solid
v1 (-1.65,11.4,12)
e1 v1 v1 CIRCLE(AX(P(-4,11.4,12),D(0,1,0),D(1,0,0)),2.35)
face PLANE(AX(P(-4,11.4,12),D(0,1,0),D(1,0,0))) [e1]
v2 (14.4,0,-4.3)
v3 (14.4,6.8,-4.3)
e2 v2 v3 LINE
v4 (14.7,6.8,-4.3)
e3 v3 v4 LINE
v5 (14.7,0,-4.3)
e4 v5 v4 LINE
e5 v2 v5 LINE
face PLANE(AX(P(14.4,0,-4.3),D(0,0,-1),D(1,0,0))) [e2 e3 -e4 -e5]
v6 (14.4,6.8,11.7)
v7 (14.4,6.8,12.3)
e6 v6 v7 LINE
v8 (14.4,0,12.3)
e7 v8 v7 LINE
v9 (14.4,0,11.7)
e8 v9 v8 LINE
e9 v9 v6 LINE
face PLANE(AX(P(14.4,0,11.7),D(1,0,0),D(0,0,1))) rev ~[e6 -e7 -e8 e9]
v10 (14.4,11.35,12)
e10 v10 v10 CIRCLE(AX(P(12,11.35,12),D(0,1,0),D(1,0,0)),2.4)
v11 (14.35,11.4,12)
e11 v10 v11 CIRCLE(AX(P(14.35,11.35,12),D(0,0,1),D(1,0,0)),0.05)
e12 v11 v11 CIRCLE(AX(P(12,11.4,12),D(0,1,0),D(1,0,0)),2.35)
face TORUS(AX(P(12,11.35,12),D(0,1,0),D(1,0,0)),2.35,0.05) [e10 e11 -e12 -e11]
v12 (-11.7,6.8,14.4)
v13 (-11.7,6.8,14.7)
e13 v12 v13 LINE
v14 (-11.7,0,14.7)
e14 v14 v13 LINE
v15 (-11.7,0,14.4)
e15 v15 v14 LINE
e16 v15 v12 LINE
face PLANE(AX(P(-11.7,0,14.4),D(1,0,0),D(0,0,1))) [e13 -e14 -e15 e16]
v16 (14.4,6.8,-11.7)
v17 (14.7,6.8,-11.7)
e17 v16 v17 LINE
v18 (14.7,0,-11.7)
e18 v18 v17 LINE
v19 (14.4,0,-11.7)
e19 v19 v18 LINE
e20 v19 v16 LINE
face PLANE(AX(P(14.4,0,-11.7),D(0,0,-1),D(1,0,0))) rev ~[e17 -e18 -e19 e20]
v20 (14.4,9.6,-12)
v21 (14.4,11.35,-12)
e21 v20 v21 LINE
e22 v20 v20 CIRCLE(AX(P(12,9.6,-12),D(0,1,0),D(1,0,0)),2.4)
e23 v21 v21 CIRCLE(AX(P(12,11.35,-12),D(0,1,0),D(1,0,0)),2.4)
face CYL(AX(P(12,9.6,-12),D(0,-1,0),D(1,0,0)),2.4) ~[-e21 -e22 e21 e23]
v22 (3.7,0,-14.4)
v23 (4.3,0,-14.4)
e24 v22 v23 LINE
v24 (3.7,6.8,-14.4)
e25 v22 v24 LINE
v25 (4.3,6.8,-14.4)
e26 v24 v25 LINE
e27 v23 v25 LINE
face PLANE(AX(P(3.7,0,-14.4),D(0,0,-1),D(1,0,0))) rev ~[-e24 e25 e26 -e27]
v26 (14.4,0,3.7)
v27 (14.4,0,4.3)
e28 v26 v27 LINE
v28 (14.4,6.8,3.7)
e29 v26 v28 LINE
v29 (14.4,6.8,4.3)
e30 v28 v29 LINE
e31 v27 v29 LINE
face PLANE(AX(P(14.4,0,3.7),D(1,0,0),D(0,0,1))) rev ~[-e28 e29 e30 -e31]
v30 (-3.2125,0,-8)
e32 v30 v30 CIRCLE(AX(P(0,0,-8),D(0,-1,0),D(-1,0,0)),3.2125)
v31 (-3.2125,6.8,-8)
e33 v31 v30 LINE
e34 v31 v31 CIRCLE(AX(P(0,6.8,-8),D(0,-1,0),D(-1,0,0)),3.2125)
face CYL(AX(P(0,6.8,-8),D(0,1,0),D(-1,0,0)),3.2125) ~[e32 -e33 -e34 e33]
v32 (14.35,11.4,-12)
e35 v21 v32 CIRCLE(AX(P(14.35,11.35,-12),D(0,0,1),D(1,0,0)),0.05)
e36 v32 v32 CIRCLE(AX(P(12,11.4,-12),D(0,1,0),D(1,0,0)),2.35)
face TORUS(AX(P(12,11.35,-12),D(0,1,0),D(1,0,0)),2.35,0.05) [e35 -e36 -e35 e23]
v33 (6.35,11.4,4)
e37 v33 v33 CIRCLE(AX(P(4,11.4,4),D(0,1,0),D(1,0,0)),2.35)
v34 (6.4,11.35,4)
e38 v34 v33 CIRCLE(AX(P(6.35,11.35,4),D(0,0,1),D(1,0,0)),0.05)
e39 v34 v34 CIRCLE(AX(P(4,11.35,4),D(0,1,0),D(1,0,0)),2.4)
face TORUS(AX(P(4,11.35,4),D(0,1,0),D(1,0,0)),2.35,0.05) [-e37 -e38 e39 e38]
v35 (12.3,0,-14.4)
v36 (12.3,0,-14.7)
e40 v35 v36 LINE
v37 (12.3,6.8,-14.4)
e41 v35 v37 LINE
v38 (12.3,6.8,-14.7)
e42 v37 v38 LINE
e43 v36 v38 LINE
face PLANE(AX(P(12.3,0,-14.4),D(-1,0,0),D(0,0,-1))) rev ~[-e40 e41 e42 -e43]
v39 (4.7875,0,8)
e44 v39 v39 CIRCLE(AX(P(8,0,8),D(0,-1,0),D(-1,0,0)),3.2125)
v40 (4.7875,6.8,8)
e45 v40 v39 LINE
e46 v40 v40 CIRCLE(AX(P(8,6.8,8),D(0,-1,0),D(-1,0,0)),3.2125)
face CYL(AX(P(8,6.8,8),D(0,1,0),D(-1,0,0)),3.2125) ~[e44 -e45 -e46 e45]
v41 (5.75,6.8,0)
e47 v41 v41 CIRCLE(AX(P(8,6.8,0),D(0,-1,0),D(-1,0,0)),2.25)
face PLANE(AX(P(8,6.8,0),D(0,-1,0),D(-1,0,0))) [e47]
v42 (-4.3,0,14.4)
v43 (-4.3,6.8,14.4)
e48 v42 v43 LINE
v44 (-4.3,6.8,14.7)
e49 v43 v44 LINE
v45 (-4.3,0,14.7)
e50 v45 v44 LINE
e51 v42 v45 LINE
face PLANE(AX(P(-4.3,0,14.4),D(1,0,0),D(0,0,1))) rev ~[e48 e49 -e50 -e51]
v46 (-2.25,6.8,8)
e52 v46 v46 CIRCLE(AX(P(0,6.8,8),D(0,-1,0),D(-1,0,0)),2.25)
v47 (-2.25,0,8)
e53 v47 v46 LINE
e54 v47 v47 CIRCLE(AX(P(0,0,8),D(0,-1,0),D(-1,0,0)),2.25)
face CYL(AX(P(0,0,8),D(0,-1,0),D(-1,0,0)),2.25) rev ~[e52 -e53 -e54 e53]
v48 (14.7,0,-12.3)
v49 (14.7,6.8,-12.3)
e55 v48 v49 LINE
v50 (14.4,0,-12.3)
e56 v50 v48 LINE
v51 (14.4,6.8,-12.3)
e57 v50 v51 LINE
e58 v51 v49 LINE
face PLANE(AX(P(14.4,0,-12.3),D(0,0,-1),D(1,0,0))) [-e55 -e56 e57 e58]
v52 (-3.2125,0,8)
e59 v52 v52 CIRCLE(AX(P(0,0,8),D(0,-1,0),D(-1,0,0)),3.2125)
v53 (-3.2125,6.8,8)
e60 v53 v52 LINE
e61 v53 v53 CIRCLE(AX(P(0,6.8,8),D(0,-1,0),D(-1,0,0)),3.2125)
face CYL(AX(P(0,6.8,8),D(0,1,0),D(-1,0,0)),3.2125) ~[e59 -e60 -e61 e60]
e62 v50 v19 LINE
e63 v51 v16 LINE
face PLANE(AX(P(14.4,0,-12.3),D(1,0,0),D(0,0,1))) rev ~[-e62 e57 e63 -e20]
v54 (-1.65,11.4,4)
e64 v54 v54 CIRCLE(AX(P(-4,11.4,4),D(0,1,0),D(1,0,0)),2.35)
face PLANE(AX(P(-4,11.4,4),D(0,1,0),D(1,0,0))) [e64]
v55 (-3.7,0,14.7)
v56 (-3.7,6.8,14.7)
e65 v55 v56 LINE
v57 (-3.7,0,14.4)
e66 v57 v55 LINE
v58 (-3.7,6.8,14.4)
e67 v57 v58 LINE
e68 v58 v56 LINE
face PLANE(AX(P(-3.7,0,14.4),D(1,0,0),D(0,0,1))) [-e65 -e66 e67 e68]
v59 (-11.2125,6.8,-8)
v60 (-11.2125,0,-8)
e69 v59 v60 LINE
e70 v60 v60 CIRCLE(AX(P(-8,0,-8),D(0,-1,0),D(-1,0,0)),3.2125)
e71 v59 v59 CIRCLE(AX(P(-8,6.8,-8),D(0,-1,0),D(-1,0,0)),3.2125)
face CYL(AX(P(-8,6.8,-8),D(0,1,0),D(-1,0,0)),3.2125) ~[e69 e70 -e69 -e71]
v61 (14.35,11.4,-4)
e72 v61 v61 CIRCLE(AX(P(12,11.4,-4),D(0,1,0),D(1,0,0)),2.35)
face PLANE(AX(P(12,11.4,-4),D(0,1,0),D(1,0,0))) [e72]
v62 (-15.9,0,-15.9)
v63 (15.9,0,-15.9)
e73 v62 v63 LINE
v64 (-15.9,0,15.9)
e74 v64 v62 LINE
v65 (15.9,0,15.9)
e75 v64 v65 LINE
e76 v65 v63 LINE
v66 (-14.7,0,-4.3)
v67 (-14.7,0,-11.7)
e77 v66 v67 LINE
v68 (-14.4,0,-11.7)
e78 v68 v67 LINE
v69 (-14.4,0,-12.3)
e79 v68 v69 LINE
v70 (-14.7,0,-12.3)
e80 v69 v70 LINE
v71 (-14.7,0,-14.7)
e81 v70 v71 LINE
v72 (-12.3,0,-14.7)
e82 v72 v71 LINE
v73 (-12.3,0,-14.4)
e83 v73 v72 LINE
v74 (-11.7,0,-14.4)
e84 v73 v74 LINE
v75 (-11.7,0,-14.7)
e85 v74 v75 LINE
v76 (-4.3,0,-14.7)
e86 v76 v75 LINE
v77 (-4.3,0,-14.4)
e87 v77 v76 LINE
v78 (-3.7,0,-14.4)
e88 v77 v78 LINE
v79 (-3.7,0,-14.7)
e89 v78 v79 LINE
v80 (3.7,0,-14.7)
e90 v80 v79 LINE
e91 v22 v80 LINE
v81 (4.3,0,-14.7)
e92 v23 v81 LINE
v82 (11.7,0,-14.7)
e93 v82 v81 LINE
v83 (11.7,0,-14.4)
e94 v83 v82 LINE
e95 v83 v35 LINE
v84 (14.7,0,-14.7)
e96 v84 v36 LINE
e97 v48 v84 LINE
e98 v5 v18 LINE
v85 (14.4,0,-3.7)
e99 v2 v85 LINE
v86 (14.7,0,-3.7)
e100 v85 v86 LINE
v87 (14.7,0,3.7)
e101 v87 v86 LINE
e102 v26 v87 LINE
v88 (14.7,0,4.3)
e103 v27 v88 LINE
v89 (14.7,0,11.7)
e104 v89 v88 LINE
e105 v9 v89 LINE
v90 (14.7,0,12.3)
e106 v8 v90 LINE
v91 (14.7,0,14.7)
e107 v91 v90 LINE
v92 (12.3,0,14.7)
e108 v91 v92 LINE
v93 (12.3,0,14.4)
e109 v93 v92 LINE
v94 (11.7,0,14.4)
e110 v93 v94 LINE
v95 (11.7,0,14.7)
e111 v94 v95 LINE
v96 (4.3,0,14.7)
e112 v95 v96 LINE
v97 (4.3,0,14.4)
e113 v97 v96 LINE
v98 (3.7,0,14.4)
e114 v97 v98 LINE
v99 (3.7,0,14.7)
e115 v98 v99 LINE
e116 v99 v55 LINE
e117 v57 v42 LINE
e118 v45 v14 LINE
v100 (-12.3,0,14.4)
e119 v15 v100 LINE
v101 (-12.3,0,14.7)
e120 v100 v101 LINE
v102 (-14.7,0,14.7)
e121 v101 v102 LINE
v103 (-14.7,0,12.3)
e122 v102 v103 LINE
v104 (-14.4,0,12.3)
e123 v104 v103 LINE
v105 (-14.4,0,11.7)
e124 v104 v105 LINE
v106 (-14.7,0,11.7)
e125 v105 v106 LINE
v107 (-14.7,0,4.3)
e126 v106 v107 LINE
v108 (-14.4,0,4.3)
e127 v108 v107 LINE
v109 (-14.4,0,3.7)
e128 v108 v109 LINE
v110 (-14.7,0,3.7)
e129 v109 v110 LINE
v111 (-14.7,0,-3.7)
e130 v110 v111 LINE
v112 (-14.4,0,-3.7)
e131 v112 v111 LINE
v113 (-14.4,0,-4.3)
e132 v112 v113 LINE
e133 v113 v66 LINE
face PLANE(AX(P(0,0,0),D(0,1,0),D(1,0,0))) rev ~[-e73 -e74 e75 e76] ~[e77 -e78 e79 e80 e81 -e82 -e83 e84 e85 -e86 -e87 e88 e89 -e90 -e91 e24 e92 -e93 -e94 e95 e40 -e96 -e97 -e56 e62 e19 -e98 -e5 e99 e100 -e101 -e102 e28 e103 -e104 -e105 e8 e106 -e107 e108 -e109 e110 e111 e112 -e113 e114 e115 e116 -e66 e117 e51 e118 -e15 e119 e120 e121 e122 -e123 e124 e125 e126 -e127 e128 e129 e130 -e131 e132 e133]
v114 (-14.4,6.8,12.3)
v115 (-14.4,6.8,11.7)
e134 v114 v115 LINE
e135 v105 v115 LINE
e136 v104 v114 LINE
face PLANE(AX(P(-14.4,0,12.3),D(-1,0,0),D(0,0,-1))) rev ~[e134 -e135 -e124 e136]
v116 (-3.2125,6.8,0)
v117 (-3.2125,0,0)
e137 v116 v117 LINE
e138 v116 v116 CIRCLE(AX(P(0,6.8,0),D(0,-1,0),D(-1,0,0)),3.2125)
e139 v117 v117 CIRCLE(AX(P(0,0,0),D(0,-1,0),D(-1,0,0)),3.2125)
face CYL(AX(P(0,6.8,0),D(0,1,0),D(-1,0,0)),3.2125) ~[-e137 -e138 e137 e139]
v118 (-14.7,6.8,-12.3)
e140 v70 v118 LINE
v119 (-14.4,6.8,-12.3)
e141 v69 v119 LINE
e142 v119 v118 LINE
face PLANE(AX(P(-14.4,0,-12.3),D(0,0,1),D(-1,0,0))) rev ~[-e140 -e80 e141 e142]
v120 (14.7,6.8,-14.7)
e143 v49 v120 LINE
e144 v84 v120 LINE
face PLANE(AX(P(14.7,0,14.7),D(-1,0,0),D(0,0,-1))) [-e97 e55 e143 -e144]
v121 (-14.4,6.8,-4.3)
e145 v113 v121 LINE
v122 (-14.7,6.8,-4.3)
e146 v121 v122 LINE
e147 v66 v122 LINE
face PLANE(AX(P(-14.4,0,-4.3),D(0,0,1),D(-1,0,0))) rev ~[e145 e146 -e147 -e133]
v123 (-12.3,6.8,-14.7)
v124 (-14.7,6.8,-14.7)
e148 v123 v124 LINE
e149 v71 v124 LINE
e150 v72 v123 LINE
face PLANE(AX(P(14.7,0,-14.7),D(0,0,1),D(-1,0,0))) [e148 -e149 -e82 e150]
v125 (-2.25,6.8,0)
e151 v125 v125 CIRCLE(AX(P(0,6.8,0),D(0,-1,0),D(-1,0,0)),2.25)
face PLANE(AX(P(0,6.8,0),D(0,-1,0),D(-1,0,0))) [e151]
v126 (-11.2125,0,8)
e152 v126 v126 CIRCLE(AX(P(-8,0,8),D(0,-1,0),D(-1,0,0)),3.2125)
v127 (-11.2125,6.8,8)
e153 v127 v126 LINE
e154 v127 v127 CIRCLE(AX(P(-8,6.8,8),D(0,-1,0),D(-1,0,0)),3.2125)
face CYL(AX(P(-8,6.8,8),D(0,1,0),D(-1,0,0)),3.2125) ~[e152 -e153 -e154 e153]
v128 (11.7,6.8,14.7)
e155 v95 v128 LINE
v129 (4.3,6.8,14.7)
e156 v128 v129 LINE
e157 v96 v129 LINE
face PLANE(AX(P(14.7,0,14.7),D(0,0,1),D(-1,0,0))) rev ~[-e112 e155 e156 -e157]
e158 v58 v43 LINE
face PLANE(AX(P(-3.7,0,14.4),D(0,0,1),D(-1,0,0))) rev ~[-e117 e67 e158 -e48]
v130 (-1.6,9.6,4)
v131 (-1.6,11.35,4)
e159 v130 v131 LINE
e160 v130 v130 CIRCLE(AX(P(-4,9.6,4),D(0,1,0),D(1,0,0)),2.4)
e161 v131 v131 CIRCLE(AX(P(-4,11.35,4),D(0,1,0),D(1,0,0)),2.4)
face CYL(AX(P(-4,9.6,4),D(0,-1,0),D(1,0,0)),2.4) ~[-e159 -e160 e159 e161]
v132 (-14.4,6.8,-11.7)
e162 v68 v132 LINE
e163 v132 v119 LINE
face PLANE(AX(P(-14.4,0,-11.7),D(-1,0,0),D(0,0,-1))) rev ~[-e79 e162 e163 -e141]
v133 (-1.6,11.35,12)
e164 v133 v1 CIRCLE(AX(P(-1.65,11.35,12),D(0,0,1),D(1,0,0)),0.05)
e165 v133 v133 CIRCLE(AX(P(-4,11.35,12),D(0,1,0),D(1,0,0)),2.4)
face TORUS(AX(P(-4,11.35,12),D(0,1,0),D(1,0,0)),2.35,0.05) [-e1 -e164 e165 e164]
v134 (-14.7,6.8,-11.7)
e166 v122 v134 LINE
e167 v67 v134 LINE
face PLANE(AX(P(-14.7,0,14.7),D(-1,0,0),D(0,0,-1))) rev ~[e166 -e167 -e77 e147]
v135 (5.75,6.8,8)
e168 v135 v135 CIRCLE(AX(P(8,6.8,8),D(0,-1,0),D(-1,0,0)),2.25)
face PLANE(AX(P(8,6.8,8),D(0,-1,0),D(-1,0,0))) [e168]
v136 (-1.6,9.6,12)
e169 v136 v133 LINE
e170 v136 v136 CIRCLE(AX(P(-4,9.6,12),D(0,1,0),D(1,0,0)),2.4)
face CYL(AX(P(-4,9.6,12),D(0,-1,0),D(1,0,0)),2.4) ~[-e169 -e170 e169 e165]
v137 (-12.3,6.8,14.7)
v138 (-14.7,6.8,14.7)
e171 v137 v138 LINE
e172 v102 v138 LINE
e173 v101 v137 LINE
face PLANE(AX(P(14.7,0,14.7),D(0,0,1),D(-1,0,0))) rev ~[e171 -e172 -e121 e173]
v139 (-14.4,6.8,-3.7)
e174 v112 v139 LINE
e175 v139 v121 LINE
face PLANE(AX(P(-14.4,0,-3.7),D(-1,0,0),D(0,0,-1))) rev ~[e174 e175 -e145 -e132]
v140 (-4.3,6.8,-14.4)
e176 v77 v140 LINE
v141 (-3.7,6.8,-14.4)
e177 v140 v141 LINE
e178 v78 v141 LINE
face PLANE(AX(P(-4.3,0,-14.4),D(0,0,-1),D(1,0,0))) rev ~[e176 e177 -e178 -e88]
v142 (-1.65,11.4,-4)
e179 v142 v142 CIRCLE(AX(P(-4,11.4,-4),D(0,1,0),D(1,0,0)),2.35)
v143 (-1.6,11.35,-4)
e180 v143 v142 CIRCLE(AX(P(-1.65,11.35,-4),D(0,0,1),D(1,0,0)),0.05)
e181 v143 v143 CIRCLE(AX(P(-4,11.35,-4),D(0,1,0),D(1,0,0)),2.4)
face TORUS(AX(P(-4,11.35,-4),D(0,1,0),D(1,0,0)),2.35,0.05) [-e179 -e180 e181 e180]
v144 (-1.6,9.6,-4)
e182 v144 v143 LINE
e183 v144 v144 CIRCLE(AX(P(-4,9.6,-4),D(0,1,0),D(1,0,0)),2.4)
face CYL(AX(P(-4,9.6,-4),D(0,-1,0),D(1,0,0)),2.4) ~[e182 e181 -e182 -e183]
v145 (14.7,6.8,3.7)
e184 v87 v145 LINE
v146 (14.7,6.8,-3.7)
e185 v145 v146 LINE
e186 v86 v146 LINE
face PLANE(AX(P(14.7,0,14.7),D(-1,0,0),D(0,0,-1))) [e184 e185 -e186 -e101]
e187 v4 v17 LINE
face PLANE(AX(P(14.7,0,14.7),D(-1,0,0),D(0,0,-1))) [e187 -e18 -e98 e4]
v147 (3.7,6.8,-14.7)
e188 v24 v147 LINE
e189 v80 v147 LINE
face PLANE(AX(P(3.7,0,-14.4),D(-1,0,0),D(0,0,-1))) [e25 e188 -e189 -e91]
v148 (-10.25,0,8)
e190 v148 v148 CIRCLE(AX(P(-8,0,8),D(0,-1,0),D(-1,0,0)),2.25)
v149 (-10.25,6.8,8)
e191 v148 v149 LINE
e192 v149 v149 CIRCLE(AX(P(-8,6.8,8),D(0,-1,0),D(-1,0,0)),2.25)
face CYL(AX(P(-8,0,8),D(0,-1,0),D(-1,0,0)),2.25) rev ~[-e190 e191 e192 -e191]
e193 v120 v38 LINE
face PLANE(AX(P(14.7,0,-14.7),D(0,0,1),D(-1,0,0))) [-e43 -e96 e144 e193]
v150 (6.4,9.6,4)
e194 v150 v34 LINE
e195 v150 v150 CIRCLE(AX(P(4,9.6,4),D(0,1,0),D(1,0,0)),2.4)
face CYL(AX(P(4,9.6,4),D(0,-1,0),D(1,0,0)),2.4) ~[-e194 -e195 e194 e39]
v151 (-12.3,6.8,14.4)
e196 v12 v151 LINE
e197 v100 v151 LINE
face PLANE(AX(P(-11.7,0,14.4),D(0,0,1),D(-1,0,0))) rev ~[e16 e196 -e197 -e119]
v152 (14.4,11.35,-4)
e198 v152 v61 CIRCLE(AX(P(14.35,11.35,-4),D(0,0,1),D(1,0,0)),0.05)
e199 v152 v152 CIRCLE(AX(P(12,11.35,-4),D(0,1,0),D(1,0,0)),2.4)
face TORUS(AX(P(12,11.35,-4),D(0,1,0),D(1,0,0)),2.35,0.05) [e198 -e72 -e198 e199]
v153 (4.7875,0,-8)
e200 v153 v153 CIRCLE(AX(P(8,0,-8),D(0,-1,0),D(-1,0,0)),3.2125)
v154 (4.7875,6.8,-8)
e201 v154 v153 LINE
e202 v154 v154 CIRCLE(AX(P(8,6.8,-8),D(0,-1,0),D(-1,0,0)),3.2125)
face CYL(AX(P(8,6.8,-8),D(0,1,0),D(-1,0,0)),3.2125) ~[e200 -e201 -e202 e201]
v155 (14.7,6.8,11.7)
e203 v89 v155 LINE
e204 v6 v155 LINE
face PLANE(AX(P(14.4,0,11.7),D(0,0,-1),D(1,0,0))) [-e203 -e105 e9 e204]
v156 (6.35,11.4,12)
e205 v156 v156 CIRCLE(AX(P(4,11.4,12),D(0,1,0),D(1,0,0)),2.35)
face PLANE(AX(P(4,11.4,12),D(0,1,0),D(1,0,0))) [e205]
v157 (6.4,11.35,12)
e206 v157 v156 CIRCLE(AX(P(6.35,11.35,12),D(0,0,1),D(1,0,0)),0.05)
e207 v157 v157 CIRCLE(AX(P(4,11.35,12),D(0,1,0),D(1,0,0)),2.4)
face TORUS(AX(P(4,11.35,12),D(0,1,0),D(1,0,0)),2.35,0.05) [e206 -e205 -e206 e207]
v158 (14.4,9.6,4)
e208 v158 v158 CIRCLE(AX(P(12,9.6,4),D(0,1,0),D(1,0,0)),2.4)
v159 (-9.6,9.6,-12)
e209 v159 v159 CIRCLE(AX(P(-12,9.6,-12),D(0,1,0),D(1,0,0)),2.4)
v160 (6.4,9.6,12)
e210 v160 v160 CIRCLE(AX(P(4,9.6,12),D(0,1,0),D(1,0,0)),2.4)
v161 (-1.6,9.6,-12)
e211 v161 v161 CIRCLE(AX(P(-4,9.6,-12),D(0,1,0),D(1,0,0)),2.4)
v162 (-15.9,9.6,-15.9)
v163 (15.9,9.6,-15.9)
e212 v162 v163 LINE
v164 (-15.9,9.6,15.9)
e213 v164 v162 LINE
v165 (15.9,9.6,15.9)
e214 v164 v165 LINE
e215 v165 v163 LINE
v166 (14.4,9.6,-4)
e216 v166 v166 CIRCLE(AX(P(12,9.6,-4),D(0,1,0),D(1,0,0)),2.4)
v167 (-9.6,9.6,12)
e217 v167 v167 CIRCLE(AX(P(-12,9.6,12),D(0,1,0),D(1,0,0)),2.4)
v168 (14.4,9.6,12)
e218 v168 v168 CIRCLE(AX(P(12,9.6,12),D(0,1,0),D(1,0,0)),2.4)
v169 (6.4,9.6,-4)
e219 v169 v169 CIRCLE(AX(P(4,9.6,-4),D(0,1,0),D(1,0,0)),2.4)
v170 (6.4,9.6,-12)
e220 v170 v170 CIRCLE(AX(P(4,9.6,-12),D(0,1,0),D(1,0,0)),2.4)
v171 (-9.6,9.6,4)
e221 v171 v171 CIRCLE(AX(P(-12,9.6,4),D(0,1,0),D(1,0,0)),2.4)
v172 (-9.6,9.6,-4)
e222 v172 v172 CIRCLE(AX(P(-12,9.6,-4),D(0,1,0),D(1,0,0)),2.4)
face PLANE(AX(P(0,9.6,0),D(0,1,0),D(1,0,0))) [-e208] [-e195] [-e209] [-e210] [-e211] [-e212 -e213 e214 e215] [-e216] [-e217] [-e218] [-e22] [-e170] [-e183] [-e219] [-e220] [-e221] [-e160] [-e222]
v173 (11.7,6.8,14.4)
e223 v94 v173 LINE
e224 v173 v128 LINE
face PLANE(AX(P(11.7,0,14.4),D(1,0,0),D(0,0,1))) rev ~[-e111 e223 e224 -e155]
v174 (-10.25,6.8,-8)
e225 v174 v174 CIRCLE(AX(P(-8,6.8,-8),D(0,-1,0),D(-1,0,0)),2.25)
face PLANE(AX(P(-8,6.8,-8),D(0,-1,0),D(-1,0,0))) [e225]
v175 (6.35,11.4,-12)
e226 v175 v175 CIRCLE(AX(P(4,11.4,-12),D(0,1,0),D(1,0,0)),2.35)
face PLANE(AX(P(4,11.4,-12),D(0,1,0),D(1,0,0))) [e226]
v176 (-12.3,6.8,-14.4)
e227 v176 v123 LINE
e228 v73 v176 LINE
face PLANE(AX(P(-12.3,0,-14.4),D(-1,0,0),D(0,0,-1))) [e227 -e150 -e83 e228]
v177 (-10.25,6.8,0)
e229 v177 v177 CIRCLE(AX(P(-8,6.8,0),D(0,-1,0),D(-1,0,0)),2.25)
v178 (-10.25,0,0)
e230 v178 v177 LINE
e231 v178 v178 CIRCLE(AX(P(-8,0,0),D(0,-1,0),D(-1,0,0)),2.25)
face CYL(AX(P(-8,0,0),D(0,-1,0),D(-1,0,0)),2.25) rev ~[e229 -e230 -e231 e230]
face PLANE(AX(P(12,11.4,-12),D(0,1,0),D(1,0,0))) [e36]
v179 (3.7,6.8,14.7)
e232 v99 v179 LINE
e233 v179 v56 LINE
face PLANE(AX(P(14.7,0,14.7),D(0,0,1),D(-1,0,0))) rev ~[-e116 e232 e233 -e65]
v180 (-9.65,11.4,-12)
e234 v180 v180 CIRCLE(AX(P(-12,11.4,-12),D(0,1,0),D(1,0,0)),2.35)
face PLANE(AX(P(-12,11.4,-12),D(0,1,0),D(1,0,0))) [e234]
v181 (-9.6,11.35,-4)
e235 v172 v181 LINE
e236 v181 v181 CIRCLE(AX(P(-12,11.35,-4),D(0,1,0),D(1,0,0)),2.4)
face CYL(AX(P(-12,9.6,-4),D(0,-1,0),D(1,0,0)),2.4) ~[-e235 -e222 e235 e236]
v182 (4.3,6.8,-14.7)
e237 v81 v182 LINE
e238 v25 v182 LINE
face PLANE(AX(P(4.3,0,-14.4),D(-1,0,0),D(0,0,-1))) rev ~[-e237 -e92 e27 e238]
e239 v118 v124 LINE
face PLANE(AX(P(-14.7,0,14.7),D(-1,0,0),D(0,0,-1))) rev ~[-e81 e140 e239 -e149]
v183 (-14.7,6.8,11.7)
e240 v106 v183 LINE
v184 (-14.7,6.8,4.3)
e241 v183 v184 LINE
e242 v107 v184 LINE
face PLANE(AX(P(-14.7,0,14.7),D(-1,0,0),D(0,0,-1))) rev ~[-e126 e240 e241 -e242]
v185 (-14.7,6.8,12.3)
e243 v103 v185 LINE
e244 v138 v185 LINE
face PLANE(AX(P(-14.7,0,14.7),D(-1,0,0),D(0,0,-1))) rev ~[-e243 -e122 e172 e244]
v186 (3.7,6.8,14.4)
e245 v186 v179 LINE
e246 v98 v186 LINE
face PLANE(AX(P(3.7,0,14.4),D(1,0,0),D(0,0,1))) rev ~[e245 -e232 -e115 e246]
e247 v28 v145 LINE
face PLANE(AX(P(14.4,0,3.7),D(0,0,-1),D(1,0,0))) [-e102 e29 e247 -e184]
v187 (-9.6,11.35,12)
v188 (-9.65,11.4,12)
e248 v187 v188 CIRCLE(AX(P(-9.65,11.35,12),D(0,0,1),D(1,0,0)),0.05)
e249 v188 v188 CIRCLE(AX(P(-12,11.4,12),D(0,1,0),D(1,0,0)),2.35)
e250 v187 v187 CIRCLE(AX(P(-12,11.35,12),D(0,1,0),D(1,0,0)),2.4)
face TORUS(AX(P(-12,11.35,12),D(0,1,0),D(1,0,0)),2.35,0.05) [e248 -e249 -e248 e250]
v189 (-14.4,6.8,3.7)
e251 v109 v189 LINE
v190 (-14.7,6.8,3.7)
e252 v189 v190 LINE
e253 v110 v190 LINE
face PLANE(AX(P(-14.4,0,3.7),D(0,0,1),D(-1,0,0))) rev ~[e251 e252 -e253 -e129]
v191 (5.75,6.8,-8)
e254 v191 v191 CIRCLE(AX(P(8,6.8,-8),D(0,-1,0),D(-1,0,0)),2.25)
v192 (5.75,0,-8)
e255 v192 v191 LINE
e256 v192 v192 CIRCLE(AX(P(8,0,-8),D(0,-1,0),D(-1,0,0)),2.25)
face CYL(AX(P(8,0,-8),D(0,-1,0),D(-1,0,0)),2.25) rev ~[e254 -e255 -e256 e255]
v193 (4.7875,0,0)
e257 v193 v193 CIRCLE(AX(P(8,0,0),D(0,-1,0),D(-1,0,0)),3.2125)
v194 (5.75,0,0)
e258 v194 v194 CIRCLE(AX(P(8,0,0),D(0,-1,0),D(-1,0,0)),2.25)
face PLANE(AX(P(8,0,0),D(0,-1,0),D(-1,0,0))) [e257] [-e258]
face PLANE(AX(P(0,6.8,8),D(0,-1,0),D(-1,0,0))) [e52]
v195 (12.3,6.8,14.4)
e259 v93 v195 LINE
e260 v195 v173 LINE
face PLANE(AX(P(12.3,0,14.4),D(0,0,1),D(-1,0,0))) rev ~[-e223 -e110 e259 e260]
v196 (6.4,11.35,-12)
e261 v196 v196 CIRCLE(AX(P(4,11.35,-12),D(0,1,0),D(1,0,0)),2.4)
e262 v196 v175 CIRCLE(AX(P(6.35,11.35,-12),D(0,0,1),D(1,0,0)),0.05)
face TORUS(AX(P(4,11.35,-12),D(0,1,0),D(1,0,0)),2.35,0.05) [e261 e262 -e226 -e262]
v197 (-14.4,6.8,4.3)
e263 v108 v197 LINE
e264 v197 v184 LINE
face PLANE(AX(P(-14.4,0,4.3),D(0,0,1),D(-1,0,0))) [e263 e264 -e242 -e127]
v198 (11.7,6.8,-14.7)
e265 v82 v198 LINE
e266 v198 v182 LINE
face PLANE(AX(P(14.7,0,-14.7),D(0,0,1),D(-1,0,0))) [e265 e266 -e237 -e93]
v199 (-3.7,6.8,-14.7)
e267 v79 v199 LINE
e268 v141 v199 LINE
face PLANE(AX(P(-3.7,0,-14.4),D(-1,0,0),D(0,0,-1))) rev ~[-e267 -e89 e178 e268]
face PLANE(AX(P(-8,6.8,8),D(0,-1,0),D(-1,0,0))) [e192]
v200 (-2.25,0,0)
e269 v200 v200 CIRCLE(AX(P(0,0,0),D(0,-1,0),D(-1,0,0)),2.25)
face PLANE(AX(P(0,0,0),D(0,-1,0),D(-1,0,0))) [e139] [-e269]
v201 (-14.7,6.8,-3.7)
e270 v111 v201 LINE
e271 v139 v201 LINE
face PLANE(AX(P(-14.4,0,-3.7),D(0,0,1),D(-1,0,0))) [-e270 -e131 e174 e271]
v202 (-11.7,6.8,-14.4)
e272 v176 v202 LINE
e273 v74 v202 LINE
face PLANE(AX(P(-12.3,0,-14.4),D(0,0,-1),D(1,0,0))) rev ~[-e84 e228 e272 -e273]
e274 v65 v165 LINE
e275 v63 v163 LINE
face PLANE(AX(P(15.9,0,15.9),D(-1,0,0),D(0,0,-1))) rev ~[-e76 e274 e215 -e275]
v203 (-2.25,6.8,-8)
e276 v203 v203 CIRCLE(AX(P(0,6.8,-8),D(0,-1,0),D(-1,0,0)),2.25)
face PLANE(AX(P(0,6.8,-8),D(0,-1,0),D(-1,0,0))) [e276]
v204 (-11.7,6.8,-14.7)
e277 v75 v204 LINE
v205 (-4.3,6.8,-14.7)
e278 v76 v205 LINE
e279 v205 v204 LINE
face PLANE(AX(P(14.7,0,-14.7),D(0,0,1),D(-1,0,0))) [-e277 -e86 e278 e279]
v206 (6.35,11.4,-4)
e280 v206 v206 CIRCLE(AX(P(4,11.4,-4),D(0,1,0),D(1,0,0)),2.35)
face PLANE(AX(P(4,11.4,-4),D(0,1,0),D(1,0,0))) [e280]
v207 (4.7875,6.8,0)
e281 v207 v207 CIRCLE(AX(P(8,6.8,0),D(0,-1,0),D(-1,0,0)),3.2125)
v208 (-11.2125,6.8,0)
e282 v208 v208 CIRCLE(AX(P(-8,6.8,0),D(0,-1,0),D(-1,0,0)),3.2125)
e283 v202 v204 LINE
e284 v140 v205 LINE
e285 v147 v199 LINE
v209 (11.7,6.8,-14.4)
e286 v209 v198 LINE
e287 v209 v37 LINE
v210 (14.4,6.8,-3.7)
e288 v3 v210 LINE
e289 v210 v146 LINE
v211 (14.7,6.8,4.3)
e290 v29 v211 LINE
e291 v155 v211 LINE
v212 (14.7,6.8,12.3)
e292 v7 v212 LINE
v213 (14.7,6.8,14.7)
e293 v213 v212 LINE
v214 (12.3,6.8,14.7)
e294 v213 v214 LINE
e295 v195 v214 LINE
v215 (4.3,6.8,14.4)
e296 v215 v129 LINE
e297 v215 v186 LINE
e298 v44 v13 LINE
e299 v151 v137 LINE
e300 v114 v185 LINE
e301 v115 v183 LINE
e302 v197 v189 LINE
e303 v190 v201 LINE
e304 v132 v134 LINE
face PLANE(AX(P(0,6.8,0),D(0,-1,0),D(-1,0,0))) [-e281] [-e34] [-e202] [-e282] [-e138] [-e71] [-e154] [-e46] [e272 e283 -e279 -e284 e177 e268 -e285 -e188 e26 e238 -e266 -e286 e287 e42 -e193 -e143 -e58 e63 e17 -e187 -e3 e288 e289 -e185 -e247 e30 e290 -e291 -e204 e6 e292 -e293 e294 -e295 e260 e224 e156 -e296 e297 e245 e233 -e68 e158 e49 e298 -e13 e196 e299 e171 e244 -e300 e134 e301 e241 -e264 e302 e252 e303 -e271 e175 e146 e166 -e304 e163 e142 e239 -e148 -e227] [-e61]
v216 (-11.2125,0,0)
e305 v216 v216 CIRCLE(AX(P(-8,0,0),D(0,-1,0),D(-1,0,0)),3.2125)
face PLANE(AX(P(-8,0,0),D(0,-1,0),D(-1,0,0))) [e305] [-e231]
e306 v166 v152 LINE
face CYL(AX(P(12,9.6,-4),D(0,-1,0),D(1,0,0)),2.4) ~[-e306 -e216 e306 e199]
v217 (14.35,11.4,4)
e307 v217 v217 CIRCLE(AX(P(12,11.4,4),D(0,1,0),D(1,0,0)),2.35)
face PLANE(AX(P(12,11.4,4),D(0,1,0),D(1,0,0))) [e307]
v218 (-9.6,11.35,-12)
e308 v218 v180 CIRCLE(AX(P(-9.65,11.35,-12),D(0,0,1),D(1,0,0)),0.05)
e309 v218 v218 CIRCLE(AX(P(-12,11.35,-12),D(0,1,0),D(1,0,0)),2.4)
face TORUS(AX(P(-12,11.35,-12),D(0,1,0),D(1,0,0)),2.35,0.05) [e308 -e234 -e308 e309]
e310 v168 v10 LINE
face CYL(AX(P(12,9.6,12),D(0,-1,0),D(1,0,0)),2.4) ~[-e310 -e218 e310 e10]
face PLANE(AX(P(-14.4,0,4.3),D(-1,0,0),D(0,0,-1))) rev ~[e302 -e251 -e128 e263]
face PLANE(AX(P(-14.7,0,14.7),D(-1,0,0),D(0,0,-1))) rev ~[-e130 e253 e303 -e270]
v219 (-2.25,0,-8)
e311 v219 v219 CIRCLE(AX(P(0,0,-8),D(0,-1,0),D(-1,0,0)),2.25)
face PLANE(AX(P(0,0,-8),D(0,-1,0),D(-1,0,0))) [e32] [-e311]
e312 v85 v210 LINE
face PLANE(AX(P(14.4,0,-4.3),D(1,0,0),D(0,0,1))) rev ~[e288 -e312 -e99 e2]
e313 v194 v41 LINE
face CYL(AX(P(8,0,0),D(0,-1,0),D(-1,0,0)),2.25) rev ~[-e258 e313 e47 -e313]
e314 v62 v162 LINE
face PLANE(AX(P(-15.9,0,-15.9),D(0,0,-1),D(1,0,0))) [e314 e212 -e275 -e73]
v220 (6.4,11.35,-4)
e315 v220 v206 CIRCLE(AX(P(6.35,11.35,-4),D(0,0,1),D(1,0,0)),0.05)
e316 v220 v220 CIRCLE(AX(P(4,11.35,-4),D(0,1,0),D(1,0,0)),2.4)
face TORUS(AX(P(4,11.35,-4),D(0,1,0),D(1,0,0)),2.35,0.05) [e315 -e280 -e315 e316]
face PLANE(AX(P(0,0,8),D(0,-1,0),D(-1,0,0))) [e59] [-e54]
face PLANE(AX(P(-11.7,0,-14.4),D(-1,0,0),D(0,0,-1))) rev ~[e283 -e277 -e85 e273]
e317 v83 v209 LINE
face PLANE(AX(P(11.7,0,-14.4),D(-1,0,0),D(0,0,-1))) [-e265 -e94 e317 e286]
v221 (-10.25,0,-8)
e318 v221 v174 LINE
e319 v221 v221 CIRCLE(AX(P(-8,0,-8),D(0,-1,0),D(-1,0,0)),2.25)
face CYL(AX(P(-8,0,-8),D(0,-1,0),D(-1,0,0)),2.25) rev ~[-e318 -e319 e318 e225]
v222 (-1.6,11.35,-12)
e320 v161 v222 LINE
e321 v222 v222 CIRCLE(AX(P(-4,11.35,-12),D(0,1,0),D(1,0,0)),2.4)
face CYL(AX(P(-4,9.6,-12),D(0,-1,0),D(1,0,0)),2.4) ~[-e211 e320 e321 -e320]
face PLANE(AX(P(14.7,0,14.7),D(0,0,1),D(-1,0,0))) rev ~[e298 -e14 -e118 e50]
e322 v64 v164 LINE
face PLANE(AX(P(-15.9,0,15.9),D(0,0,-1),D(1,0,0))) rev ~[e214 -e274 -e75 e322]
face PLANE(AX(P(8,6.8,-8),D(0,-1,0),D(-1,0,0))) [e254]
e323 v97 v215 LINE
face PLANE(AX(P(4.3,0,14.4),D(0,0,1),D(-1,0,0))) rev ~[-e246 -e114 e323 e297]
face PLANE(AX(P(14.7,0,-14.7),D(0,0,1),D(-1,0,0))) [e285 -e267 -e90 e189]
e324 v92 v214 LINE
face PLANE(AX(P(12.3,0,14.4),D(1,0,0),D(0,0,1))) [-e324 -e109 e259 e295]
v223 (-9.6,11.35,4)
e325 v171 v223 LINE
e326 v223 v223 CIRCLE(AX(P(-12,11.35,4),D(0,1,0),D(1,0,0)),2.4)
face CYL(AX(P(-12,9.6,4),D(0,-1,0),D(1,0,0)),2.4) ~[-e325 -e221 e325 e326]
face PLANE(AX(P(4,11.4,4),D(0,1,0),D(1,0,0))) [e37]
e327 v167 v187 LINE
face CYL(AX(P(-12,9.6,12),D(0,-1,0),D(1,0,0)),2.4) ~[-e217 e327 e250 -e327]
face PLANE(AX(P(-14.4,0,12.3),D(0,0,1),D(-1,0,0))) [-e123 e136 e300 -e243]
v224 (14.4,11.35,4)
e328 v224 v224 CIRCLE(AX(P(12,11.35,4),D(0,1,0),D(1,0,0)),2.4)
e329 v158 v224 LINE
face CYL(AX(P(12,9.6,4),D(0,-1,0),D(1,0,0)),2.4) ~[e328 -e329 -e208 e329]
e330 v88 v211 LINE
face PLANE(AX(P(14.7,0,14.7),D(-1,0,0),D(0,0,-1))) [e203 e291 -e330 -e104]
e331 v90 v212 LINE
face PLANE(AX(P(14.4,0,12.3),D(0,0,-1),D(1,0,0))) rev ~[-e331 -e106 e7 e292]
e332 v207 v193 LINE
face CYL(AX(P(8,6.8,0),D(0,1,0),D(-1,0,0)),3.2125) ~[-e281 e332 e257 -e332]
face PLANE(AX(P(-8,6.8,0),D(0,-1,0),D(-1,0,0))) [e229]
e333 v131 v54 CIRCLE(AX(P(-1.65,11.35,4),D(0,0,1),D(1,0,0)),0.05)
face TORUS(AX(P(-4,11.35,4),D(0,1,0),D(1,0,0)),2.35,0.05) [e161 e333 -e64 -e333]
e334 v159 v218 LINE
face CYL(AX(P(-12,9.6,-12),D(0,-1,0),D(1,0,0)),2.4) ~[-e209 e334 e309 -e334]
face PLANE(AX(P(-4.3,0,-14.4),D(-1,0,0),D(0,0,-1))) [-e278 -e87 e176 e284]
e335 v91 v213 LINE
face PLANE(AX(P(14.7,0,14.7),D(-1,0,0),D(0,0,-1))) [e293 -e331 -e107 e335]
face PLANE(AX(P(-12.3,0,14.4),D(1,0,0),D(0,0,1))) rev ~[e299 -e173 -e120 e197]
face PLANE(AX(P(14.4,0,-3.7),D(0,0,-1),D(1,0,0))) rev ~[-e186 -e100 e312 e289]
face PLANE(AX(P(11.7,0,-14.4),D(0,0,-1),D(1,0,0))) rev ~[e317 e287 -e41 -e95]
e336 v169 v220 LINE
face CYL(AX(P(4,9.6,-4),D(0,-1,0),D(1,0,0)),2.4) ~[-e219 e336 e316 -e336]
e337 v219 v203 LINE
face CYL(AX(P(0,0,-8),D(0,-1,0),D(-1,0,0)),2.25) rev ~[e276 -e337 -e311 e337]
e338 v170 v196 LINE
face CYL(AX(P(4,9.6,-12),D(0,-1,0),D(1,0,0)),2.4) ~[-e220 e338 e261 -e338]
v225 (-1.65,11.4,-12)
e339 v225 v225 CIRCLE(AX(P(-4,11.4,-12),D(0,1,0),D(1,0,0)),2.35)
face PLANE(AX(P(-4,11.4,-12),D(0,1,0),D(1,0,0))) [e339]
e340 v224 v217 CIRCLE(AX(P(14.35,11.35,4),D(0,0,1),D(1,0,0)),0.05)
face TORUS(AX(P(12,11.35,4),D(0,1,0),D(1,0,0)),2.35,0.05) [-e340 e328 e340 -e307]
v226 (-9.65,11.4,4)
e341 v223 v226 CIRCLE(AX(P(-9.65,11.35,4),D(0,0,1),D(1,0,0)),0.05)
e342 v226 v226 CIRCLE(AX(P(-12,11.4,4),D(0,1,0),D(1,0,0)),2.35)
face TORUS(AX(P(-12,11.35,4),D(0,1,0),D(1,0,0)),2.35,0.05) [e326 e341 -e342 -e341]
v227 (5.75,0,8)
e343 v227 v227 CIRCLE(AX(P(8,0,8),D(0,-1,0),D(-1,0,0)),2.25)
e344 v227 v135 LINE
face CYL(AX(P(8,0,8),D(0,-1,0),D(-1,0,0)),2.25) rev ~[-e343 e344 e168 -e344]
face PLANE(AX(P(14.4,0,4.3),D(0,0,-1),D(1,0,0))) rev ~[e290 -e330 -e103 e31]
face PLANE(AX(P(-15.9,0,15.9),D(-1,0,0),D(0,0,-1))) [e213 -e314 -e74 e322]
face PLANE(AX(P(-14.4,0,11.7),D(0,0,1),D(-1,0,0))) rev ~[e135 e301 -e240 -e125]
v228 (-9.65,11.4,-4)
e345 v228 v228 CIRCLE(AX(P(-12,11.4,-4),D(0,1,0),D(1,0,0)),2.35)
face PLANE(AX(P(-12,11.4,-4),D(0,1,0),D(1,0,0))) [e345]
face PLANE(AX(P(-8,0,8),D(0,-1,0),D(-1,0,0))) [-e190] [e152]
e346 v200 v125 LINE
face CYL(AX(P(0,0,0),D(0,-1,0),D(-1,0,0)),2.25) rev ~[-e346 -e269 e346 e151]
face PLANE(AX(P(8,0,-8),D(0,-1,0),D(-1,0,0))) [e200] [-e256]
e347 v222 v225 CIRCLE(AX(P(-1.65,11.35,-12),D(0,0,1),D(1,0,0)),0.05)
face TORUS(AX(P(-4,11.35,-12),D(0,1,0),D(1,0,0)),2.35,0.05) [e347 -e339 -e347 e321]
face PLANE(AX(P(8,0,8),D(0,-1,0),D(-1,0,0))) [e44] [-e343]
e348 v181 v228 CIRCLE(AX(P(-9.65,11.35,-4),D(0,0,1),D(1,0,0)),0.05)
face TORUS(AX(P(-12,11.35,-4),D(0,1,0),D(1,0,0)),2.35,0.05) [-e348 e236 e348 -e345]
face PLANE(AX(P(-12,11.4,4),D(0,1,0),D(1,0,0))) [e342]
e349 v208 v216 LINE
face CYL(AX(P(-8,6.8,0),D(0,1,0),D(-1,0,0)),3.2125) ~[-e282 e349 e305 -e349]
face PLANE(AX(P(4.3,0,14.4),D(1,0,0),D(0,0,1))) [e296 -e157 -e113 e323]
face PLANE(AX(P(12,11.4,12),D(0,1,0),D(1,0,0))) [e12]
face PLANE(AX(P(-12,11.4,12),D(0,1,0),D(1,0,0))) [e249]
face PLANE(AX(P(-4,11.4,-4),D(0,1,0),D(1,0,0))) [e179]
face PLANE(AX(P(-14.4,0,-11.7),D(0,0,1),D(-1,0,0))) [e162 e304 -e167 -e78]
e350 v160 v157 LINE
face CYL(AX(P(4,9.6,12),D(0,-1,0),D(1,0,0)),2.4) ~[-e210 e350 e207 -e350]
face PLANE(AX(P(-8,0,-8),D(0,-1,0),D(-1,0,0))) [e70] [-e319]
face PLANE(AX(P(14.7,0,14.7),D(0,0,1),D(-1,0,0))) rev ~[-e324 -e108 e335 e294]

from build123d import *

# Parameters (mm, degrees)
SKETCH1_W                 = 31.8
SKETCH1_H                 = 31.8
BOSS_EXTRUDE1_DEPTH       = 9.6
SKETCH2_R                 = 2.4
BOSS_EXTRUDE2_DEPTH       = 1.8
LPATTERN1_COUNT           = 4
LPATTERN1_PITCH           = 8
LPATTERN2_COUNT           = 4
LPATTERN2_PITCH           = 8
LPATTERN2_COPY_1_SKETCH_R = 2.4
LPATTERN2_COPY_1_DEPTH    = 1.8
LPATTERN2_COPY_2_SKETCH_R = 2.4
LPATTERN2_COPY_2_DEPTH    = 1.8
LPATTERN2_COPY_3_SKETCH_R = 2.4
LPATTERN2_COPY_3_DEPTH    = 1.8
LPATTERN2_COPY_4_SKETCH_R = 2.4
LPATTERN2_COPY_4_DEPTH    = 1.8
LPATTERN2_COPY_5_SKETCH_R = 2.4
LPATTERN2_COPY_5_DEPTH    = 1.8
LPATTERN2_COPY_6_SKETCH_R = 2.4
LPATTERN2_COPY_6_DEPTH    = 1.8
LPATTERN2_COPY_7_SKETCH_R = 2.4
LPATTERN2_COPY_7_DEPTH    = 1.8
LPATTERN2_COPY_8_SKETCH_R = 2.4
LPATTERN2_COPY_8_DEPTH    = 1.8
LPATTERN2_COPY_9_SKETCH_R = 2.4
LPATTERN2_COPY_9_DEPTH    = 1.8
FILLET1_R                 = 0.05
SKETCH3_W                 = 29.4
SKETCH3_H                 = 29.4
CUT_EXTRUDE1_DEPTH        = 6.8
SKETCH4_R                 = 3.2125
BOSS_EXTRUDE3_DEPTH       = 6.8
SKETCH5_R                 = 2.25
CUT_EXTRUDE2_DEPTH        = 6.8
LPATTERN3_COUNT           = 3
LPATTERN3_PITCH           = 8
LPATTERN4_COUNT           = 3
LPATTERN4_PITCH           = 8
LPATTERN4_COPY_1_SKETCH_R = 3.2125
LPATTERN4_COPY_1_DEPTH    = 6.8
LPATTERN4_COPY_2_SKETCH_R = 3.2125
LPATTERN4_COPY_2_DEPTH    = 6.8
LPATTERN4_COPY_3_SKETCH_R = 3.2125
LPATTERN4_COPY_3_DEPTH    = 6.8
LPATTERN4_COPY_4_SKETCH_R = 3.2125
LPATTERN4_COPY_4_DEPTH    = 6.8
LPATTERN4_COPY_5_SKETCH_R = 2.25
LPATTERN4_COPY_5_DEPTH    = 6.8
LPATTERN4_COPY_6_SKETCH_R = 2.25
LPATTERN4_COPY_6_DEPTH    = 6.8
LPATTERN4_COPY_7_SKETCH_R = 2.25
LPATTERN4_COPY_7_DEPTH    = 6.8
LPATTERN4_COPY_8_SKETCH_R = 2.25
LPATTERN4_COPY_8_DEPTH    = 6.8
SKETCH6_W                 = 0.3
SKETCH6_H                 = 0.6
BOSS_EXTRUDE4_DEPTH       = 6.8
CIRPATTERN1_COUNT         = 4


with BuildPart() as part:
    # Sketch1 → Boss-Extrude1 (new body)
    with BuildSketch(Plane(origin=(0, 0, 0), x_dir=(1, 0, 0), z_dir=(0, 1, 0))):
        Rectangle(SKETCH1_W, SKETCH1_H)
    extrude(amount=BOSS_EXTRUDE1_DEPTH)

    # Sketch2 → Boss-Extrude2 (add)
    with BuildSketch(Plane(origin=(0, 9.6, 0), x_dir=(1, 0, 0), z_dir=(0, 1, 0))):
        with Locations((-12, -12)):
            Circle(SKETCH2_R)
    boss_extrude2 = extrude(amount=BOSS_EXTRUDE2_DEPTH)

    # LPattern1: Boss-Extrude2 ×4
    with Locations(*[(0, 0, -i * LPATTERN1_PITCH) for i in range(1, LPATTERN1_COUNT)]):
        add(boss_extrude2)

    # LPattern2: Boss-Extrude2 ×4
    with Locations(*[(i * LPATTERN2_PITCH, 0, 0) for i in range(1, LPATTERN2_COUNT)]):
        add(boss_extrude2)

    # LPattern2 copy 1 sketch → LPattern2 copy 1 (add)
    with BuildSketch(Plane(origin=(8, 9.6, -8), x_dir=(1, 0, 0), z_dir=(0, 1, 0))):
        with Locations((-12, -12)):
            Circle(LPATTERN2_COPY_1_SKETCH_R)
    extrude(amount=LPATTERN2_COPY_1_DEPTH)

    # LPattern2 copy 2 sketch → LPattern2 copy 2 (add)
    with BuildSketch(Plane(origin=(16, 9.6, -8), x_dir=(1, 0, 0), z_dir=(0, 1, 0))):
        with Locations((-12, -12)):
            Circle(LPATTERN2_COPY_2_SKETCH_R)
    extrude(amount=LPATTERN2_COPY_2_DEPTH)

    # LPattern2 copy 3 sketch → LPattern2 copy 3 (add)
    with BuildSketch(Plane(origin=(24, 9.6, -8), x_dir=(1, 0, 0), z_dir=(0, 1, 0))):
        with Locations((-12, -12)):
            Circle(LPATTERN2_COPY_3_SKETCH_R)
    extrude(amount=LPATTERN2_COPY_3_DEPTH)

    # LPattern2 copy 4 sketch → LPattern2 copy 4 (add)
    with BuildSketch(Plane(origin=(8, 9.6, -16), x_dir=(1, 0, 0), z_dir=(0, 1, 0))):
        with Locations((-12, -12)):
            Circle(LPATTERN2_COPY_4_SKETCH_R)
    extrude(amount=LPATTERN2_COPY_4_DEPTH)

    # LPattern2 copy 5 sketch → LPattern2 copy 5 (add)
    with BuildSketch(Plane(origin=(16, 9.6, -16), x_dir=(1, 0, 0), z_dir=(0, 1, 0))):
        with Locations((-12, -12)):
            Circle(LPATTERN2_COPY_5_SKETCH_R)
    extrude(amount=LPATTERN2_COPY_5_DEPTH)

    # LPattern2 copy 6 sketch → LPattern2 copy 6 (add)
    with BuildSketch(Plane(origin=(24, 9.6, -16), x_dir=(1, 0, 0), z_dir=(0, 1, 0))):
        with Locations((-12, -12)):
            Circle(LPATTERN2_COPY_6_SKETCH_R)
    extrude(amount=LPATTERN2_COPY_6_DEPTH)

    # LPattern2 copy 7 sketch → LPattern2 copy 7 (add)
    with BuildSketch(Plane(origin=(8, 9.6, -24), x_dir=(1, 0, 0), z_dir=(0, 1, 0))):
        with Locations((-12, -12)):
            Circle(LPATTERN2_COPY_7_SKETCH_R)
    extrude(amount=LPATTERN2_COPY_7_DEPTH)

    # LPattern2 copy 8 sketch → LPattern2 copy 8 (add)
    with BuildSketch(Plane(origin=(16, 9.6, -24), x_dir=(1, 0, 0), z_dir=(0, 1, 0))):
        with Locations((-12, -12)):
            Circle(LPATTERN2_COPY_8_SKETCH_R)
    extrude(amount=LPATTERN2_COPY_8_DEPTH)

    # LPattern2 copy 9 sketch → LPattern2 copy 9 (add)
    with BuildSketch(Plane(origin=(24, 9.6, -24), x_dir=(1, 0, 0), z_dir=(0, 1, 0))):
        with Locations((-12, -12)):
            Circle(LPATTERN2_COPY_9_SKETCH_R)
    extrude(amount=LPATTERN2_COPY_9_DEPTH)

    # Fillet1
    fillet1_edges = [part.edges().sort_by_distance(p)[0] for p in [
        (-14.4, 11.4, 12),
        (-14.4, 11.4, 4),
        (-14.4, 11.4, -4),
        (-14.4, 11.4, -12),
        (-6.4, 11.4, 4),
        (1.6, 11.4, 4),
        (9.6, 11.4, 4),
        (-6.4, 11.4, 12),
        (1.6, 11.4, 12),
        (9.6, 11.4, 12),
        (-6.4, 11.4, -12),
        (1.6, 11.4, -12),
        (9.6, 11.4, -12),
        (-6.4, 11.4, -4),
        (1.6, 11.4, -4),
        (9.6, 11.4, -4),
    ]]
    fillet(fillet1_edges, radius=FILLET1_R)

    # Sketch3 → Cut-Extrude1 (cut)
    with BuildSketch(Plane(origin=(0, 0, 0), x_dir=(-1, 0, 0), z_dir=(0, -1, 0))):
        Rectangle(SKETCH3_W, SKETCH3_H)
    extrude(amount=-CUT_EXTRUDE1_DEPTH, mode=Mode.SUBTRACT)

    # Sketch4 → Boss-Extrude3 (add)
    with BuildSketch(Plane(origin=(0, 6.8, 0), x_dir=(-1, 0, 0), z_dir=(0, -1, 0))):
        with Locations((-8, 8)):
            Circle(SKETCH4_R)
    boss_extrude3 = extrude(amount=BOSS_EXTRUDE3_DEPTH)

    # Sketch5 → Cut-Extrude2 (cut)
    with BuildSketch(Plane(origin=(0, 0, 0), x_dir=(-1, 0, 0), z_dir=(0, -1, 0))):
        with Locations((-8, 8)):
            Circle(SKETCH5_R)
    cut_extrude2 = extrude(amount=-CUT_EXTRUDE2_DEPTH, mode=Mode.SUBTRACT)

    # LPattern3: Boss-Extrude3, Cut-Extrude2 ×3
    with Locations(*[(-i * LPATTERN3_PITCH, 0, 0) for i in range(1, LPATTERN3_COUNT)]):
        add(boss_extrude3)
        add(cut_extrude2, mode=Mode.SUBTRACT)

    # LPattern4: Boss-Extrude3, Cut-Extrude2 ×3
    with Locations(*[(0, 0, i * LPATTERN4_PITCH) for i in range(1, LPATTERN4_COUNT)]):
        add(boss_extrude3)
        add(cut_extrude2, mode=Mode.SUBTRACT)

    # LPattern4 copy 1 sketch → LPattern4 copy 1 (add)
    with BuildSketch(Plane(origin=(-8, 6.8, 8), x_dir=(-1, 0, 0), z_dir=(0, -1, 0))):
        with Locations((-8, 8)):
            Circle(LPATTERN4_COPY_1_SKETCH_R)
    extrude(amount=LPATTERN4_COPY_1_DEPTH)

    # LPattern4 copy 2 sketch → LPattern4 copy 2 (add)
    with BuildSketch(Plane(origin=(-8, 6.8, 16), x_dir=(-1, 0, 0), z_dir=(0, -1, 0))):
        with Locations((-8, 8)):
            Circle(LPATTERN4_COPY_2_SKETCH_R)
    extrude(amount=LPATTERN4_COPY_2_DEPTH)

    # LPattern4 copy 3 sketch → LPattern4 copy 3 (add)
    with BuildSketch(Plane(origin=(-16, 6.8, 8), x_dir=(-1, 0, 0), z_dir=(0, -1, 0))):
        with Locations((-8, 8)):
            Circle(LPATTERN4_COPY_3_SKETCH_R)
    extrude(amount=LPATTERN4_COPY_3_DEPTH)

    # LPattern4 copy 4 sketch → LPattern4 copy 4 (add)
    with BuildSketch(Plane(origin=(-16, 6.8, 16), x_dir=(-1, 0, 0), z_dir=(0, -1, 0))):
        with Locations((-8, 8)):
            Circle(LPATTERN4_COPY_4_SKETCH_R)
    extrude(amount=LPATTERN4_COPY_4_DEPTH)

    # LPattern4 copy 5 sketch → LPattern4 copy 5 (cut)
    with BuildSketch(Plane(origin=(-8, 0, 8), x_dir=(-1, 0, 0), z_dir=(0, -1, 0))):
        with Locations((-8, 8)):
            Circle(LPATTERN4_COPY_5_SKETCH_R)
    extrude(amount=-LPATTERN4_COPY_5_DEPTH, mode=Mode.SUBTRACT)

    # LPattern4 copy 6 sketch → LPattern4 copy 6 (cut)
    with BuildSketch(Plane(origin=(-8, 0, 16), x_dir=(-1, 0, 0), z_dir=(0, -1, 0))):
        with Locations((-8, 8)):
            Circle(LPATTERN4_COPY_6_SKETCH_R)
    extrude(amount=-LPATTERN4_COPY_6_DEPTH, mode=Mode.SUBTRACT)

    # LPattern4 copy 7 sketch → LPattern4 copy 7 (cut)
    with BuildSketch(Plane(origin=(-16, 0, 8), x_dir=(-1, 0, 0), z_dir=(0, -1, 0))):
        with Locations((-8, 8)):
            Circle(LPATTERN4_COPY_7_SKETCH_R)
    extrude(amount=-LPATTERN4_COPY_7_DEPTH, mode=Mode.SUBTRACT)

    # LPattern4 copy 8 sketch → LPattern4 copy 8 (cut)
    with BuildSketch(Plane(origin=(-16, 0, 16), x_dir=(-1, 0, 0), z_dir=(0, -1, 0))):
        with Locations((-8, 8)):
            Circle(LPATTERN4_COPY_8_SKETCH_R)
    extrude(amount=-LPATTERN4_COPY_8_DEPTH, mode=Mode.SUBTRACT)

    # Sketch6 → Boss-Extrude4 (add)
    with BuildSketch(Plane(origin=(0, 0, 0), x_dir=(-1, 0, 0), z_dir=(0, -1, 0))):
        with Locations((14.55, -12)):
            Rectangle(SKETCH6_W, SKETCH6_H)
        with Locations((14.55, -4)):
            Rectangle(SKETCH6_W, SKETCH6_H)
        with Locations((14.55, 4)):
            Rectangle(SKETCH6_W, SKETCH6_H)
        with Locations((14.55, 12)):
            Rectangle(SKETCH6_W, SKETCH6_H)
    boss_extrude4 = extrude(amount=-BOSS_EXTRUDE4_DEPTH)

    # CirPattern1: Boss-Extrude4 ×4 about axis
    cirpattern1_axis = Axis((0, 0, 0), (0, 1, 0))
    for i in range(1, CIRPATTERN1_COUNT):
        add(boss_extrude4.rotate(cirpattern1_axis, i * 360 / CIRPATTERN1_COUNT))


solid = part.part
